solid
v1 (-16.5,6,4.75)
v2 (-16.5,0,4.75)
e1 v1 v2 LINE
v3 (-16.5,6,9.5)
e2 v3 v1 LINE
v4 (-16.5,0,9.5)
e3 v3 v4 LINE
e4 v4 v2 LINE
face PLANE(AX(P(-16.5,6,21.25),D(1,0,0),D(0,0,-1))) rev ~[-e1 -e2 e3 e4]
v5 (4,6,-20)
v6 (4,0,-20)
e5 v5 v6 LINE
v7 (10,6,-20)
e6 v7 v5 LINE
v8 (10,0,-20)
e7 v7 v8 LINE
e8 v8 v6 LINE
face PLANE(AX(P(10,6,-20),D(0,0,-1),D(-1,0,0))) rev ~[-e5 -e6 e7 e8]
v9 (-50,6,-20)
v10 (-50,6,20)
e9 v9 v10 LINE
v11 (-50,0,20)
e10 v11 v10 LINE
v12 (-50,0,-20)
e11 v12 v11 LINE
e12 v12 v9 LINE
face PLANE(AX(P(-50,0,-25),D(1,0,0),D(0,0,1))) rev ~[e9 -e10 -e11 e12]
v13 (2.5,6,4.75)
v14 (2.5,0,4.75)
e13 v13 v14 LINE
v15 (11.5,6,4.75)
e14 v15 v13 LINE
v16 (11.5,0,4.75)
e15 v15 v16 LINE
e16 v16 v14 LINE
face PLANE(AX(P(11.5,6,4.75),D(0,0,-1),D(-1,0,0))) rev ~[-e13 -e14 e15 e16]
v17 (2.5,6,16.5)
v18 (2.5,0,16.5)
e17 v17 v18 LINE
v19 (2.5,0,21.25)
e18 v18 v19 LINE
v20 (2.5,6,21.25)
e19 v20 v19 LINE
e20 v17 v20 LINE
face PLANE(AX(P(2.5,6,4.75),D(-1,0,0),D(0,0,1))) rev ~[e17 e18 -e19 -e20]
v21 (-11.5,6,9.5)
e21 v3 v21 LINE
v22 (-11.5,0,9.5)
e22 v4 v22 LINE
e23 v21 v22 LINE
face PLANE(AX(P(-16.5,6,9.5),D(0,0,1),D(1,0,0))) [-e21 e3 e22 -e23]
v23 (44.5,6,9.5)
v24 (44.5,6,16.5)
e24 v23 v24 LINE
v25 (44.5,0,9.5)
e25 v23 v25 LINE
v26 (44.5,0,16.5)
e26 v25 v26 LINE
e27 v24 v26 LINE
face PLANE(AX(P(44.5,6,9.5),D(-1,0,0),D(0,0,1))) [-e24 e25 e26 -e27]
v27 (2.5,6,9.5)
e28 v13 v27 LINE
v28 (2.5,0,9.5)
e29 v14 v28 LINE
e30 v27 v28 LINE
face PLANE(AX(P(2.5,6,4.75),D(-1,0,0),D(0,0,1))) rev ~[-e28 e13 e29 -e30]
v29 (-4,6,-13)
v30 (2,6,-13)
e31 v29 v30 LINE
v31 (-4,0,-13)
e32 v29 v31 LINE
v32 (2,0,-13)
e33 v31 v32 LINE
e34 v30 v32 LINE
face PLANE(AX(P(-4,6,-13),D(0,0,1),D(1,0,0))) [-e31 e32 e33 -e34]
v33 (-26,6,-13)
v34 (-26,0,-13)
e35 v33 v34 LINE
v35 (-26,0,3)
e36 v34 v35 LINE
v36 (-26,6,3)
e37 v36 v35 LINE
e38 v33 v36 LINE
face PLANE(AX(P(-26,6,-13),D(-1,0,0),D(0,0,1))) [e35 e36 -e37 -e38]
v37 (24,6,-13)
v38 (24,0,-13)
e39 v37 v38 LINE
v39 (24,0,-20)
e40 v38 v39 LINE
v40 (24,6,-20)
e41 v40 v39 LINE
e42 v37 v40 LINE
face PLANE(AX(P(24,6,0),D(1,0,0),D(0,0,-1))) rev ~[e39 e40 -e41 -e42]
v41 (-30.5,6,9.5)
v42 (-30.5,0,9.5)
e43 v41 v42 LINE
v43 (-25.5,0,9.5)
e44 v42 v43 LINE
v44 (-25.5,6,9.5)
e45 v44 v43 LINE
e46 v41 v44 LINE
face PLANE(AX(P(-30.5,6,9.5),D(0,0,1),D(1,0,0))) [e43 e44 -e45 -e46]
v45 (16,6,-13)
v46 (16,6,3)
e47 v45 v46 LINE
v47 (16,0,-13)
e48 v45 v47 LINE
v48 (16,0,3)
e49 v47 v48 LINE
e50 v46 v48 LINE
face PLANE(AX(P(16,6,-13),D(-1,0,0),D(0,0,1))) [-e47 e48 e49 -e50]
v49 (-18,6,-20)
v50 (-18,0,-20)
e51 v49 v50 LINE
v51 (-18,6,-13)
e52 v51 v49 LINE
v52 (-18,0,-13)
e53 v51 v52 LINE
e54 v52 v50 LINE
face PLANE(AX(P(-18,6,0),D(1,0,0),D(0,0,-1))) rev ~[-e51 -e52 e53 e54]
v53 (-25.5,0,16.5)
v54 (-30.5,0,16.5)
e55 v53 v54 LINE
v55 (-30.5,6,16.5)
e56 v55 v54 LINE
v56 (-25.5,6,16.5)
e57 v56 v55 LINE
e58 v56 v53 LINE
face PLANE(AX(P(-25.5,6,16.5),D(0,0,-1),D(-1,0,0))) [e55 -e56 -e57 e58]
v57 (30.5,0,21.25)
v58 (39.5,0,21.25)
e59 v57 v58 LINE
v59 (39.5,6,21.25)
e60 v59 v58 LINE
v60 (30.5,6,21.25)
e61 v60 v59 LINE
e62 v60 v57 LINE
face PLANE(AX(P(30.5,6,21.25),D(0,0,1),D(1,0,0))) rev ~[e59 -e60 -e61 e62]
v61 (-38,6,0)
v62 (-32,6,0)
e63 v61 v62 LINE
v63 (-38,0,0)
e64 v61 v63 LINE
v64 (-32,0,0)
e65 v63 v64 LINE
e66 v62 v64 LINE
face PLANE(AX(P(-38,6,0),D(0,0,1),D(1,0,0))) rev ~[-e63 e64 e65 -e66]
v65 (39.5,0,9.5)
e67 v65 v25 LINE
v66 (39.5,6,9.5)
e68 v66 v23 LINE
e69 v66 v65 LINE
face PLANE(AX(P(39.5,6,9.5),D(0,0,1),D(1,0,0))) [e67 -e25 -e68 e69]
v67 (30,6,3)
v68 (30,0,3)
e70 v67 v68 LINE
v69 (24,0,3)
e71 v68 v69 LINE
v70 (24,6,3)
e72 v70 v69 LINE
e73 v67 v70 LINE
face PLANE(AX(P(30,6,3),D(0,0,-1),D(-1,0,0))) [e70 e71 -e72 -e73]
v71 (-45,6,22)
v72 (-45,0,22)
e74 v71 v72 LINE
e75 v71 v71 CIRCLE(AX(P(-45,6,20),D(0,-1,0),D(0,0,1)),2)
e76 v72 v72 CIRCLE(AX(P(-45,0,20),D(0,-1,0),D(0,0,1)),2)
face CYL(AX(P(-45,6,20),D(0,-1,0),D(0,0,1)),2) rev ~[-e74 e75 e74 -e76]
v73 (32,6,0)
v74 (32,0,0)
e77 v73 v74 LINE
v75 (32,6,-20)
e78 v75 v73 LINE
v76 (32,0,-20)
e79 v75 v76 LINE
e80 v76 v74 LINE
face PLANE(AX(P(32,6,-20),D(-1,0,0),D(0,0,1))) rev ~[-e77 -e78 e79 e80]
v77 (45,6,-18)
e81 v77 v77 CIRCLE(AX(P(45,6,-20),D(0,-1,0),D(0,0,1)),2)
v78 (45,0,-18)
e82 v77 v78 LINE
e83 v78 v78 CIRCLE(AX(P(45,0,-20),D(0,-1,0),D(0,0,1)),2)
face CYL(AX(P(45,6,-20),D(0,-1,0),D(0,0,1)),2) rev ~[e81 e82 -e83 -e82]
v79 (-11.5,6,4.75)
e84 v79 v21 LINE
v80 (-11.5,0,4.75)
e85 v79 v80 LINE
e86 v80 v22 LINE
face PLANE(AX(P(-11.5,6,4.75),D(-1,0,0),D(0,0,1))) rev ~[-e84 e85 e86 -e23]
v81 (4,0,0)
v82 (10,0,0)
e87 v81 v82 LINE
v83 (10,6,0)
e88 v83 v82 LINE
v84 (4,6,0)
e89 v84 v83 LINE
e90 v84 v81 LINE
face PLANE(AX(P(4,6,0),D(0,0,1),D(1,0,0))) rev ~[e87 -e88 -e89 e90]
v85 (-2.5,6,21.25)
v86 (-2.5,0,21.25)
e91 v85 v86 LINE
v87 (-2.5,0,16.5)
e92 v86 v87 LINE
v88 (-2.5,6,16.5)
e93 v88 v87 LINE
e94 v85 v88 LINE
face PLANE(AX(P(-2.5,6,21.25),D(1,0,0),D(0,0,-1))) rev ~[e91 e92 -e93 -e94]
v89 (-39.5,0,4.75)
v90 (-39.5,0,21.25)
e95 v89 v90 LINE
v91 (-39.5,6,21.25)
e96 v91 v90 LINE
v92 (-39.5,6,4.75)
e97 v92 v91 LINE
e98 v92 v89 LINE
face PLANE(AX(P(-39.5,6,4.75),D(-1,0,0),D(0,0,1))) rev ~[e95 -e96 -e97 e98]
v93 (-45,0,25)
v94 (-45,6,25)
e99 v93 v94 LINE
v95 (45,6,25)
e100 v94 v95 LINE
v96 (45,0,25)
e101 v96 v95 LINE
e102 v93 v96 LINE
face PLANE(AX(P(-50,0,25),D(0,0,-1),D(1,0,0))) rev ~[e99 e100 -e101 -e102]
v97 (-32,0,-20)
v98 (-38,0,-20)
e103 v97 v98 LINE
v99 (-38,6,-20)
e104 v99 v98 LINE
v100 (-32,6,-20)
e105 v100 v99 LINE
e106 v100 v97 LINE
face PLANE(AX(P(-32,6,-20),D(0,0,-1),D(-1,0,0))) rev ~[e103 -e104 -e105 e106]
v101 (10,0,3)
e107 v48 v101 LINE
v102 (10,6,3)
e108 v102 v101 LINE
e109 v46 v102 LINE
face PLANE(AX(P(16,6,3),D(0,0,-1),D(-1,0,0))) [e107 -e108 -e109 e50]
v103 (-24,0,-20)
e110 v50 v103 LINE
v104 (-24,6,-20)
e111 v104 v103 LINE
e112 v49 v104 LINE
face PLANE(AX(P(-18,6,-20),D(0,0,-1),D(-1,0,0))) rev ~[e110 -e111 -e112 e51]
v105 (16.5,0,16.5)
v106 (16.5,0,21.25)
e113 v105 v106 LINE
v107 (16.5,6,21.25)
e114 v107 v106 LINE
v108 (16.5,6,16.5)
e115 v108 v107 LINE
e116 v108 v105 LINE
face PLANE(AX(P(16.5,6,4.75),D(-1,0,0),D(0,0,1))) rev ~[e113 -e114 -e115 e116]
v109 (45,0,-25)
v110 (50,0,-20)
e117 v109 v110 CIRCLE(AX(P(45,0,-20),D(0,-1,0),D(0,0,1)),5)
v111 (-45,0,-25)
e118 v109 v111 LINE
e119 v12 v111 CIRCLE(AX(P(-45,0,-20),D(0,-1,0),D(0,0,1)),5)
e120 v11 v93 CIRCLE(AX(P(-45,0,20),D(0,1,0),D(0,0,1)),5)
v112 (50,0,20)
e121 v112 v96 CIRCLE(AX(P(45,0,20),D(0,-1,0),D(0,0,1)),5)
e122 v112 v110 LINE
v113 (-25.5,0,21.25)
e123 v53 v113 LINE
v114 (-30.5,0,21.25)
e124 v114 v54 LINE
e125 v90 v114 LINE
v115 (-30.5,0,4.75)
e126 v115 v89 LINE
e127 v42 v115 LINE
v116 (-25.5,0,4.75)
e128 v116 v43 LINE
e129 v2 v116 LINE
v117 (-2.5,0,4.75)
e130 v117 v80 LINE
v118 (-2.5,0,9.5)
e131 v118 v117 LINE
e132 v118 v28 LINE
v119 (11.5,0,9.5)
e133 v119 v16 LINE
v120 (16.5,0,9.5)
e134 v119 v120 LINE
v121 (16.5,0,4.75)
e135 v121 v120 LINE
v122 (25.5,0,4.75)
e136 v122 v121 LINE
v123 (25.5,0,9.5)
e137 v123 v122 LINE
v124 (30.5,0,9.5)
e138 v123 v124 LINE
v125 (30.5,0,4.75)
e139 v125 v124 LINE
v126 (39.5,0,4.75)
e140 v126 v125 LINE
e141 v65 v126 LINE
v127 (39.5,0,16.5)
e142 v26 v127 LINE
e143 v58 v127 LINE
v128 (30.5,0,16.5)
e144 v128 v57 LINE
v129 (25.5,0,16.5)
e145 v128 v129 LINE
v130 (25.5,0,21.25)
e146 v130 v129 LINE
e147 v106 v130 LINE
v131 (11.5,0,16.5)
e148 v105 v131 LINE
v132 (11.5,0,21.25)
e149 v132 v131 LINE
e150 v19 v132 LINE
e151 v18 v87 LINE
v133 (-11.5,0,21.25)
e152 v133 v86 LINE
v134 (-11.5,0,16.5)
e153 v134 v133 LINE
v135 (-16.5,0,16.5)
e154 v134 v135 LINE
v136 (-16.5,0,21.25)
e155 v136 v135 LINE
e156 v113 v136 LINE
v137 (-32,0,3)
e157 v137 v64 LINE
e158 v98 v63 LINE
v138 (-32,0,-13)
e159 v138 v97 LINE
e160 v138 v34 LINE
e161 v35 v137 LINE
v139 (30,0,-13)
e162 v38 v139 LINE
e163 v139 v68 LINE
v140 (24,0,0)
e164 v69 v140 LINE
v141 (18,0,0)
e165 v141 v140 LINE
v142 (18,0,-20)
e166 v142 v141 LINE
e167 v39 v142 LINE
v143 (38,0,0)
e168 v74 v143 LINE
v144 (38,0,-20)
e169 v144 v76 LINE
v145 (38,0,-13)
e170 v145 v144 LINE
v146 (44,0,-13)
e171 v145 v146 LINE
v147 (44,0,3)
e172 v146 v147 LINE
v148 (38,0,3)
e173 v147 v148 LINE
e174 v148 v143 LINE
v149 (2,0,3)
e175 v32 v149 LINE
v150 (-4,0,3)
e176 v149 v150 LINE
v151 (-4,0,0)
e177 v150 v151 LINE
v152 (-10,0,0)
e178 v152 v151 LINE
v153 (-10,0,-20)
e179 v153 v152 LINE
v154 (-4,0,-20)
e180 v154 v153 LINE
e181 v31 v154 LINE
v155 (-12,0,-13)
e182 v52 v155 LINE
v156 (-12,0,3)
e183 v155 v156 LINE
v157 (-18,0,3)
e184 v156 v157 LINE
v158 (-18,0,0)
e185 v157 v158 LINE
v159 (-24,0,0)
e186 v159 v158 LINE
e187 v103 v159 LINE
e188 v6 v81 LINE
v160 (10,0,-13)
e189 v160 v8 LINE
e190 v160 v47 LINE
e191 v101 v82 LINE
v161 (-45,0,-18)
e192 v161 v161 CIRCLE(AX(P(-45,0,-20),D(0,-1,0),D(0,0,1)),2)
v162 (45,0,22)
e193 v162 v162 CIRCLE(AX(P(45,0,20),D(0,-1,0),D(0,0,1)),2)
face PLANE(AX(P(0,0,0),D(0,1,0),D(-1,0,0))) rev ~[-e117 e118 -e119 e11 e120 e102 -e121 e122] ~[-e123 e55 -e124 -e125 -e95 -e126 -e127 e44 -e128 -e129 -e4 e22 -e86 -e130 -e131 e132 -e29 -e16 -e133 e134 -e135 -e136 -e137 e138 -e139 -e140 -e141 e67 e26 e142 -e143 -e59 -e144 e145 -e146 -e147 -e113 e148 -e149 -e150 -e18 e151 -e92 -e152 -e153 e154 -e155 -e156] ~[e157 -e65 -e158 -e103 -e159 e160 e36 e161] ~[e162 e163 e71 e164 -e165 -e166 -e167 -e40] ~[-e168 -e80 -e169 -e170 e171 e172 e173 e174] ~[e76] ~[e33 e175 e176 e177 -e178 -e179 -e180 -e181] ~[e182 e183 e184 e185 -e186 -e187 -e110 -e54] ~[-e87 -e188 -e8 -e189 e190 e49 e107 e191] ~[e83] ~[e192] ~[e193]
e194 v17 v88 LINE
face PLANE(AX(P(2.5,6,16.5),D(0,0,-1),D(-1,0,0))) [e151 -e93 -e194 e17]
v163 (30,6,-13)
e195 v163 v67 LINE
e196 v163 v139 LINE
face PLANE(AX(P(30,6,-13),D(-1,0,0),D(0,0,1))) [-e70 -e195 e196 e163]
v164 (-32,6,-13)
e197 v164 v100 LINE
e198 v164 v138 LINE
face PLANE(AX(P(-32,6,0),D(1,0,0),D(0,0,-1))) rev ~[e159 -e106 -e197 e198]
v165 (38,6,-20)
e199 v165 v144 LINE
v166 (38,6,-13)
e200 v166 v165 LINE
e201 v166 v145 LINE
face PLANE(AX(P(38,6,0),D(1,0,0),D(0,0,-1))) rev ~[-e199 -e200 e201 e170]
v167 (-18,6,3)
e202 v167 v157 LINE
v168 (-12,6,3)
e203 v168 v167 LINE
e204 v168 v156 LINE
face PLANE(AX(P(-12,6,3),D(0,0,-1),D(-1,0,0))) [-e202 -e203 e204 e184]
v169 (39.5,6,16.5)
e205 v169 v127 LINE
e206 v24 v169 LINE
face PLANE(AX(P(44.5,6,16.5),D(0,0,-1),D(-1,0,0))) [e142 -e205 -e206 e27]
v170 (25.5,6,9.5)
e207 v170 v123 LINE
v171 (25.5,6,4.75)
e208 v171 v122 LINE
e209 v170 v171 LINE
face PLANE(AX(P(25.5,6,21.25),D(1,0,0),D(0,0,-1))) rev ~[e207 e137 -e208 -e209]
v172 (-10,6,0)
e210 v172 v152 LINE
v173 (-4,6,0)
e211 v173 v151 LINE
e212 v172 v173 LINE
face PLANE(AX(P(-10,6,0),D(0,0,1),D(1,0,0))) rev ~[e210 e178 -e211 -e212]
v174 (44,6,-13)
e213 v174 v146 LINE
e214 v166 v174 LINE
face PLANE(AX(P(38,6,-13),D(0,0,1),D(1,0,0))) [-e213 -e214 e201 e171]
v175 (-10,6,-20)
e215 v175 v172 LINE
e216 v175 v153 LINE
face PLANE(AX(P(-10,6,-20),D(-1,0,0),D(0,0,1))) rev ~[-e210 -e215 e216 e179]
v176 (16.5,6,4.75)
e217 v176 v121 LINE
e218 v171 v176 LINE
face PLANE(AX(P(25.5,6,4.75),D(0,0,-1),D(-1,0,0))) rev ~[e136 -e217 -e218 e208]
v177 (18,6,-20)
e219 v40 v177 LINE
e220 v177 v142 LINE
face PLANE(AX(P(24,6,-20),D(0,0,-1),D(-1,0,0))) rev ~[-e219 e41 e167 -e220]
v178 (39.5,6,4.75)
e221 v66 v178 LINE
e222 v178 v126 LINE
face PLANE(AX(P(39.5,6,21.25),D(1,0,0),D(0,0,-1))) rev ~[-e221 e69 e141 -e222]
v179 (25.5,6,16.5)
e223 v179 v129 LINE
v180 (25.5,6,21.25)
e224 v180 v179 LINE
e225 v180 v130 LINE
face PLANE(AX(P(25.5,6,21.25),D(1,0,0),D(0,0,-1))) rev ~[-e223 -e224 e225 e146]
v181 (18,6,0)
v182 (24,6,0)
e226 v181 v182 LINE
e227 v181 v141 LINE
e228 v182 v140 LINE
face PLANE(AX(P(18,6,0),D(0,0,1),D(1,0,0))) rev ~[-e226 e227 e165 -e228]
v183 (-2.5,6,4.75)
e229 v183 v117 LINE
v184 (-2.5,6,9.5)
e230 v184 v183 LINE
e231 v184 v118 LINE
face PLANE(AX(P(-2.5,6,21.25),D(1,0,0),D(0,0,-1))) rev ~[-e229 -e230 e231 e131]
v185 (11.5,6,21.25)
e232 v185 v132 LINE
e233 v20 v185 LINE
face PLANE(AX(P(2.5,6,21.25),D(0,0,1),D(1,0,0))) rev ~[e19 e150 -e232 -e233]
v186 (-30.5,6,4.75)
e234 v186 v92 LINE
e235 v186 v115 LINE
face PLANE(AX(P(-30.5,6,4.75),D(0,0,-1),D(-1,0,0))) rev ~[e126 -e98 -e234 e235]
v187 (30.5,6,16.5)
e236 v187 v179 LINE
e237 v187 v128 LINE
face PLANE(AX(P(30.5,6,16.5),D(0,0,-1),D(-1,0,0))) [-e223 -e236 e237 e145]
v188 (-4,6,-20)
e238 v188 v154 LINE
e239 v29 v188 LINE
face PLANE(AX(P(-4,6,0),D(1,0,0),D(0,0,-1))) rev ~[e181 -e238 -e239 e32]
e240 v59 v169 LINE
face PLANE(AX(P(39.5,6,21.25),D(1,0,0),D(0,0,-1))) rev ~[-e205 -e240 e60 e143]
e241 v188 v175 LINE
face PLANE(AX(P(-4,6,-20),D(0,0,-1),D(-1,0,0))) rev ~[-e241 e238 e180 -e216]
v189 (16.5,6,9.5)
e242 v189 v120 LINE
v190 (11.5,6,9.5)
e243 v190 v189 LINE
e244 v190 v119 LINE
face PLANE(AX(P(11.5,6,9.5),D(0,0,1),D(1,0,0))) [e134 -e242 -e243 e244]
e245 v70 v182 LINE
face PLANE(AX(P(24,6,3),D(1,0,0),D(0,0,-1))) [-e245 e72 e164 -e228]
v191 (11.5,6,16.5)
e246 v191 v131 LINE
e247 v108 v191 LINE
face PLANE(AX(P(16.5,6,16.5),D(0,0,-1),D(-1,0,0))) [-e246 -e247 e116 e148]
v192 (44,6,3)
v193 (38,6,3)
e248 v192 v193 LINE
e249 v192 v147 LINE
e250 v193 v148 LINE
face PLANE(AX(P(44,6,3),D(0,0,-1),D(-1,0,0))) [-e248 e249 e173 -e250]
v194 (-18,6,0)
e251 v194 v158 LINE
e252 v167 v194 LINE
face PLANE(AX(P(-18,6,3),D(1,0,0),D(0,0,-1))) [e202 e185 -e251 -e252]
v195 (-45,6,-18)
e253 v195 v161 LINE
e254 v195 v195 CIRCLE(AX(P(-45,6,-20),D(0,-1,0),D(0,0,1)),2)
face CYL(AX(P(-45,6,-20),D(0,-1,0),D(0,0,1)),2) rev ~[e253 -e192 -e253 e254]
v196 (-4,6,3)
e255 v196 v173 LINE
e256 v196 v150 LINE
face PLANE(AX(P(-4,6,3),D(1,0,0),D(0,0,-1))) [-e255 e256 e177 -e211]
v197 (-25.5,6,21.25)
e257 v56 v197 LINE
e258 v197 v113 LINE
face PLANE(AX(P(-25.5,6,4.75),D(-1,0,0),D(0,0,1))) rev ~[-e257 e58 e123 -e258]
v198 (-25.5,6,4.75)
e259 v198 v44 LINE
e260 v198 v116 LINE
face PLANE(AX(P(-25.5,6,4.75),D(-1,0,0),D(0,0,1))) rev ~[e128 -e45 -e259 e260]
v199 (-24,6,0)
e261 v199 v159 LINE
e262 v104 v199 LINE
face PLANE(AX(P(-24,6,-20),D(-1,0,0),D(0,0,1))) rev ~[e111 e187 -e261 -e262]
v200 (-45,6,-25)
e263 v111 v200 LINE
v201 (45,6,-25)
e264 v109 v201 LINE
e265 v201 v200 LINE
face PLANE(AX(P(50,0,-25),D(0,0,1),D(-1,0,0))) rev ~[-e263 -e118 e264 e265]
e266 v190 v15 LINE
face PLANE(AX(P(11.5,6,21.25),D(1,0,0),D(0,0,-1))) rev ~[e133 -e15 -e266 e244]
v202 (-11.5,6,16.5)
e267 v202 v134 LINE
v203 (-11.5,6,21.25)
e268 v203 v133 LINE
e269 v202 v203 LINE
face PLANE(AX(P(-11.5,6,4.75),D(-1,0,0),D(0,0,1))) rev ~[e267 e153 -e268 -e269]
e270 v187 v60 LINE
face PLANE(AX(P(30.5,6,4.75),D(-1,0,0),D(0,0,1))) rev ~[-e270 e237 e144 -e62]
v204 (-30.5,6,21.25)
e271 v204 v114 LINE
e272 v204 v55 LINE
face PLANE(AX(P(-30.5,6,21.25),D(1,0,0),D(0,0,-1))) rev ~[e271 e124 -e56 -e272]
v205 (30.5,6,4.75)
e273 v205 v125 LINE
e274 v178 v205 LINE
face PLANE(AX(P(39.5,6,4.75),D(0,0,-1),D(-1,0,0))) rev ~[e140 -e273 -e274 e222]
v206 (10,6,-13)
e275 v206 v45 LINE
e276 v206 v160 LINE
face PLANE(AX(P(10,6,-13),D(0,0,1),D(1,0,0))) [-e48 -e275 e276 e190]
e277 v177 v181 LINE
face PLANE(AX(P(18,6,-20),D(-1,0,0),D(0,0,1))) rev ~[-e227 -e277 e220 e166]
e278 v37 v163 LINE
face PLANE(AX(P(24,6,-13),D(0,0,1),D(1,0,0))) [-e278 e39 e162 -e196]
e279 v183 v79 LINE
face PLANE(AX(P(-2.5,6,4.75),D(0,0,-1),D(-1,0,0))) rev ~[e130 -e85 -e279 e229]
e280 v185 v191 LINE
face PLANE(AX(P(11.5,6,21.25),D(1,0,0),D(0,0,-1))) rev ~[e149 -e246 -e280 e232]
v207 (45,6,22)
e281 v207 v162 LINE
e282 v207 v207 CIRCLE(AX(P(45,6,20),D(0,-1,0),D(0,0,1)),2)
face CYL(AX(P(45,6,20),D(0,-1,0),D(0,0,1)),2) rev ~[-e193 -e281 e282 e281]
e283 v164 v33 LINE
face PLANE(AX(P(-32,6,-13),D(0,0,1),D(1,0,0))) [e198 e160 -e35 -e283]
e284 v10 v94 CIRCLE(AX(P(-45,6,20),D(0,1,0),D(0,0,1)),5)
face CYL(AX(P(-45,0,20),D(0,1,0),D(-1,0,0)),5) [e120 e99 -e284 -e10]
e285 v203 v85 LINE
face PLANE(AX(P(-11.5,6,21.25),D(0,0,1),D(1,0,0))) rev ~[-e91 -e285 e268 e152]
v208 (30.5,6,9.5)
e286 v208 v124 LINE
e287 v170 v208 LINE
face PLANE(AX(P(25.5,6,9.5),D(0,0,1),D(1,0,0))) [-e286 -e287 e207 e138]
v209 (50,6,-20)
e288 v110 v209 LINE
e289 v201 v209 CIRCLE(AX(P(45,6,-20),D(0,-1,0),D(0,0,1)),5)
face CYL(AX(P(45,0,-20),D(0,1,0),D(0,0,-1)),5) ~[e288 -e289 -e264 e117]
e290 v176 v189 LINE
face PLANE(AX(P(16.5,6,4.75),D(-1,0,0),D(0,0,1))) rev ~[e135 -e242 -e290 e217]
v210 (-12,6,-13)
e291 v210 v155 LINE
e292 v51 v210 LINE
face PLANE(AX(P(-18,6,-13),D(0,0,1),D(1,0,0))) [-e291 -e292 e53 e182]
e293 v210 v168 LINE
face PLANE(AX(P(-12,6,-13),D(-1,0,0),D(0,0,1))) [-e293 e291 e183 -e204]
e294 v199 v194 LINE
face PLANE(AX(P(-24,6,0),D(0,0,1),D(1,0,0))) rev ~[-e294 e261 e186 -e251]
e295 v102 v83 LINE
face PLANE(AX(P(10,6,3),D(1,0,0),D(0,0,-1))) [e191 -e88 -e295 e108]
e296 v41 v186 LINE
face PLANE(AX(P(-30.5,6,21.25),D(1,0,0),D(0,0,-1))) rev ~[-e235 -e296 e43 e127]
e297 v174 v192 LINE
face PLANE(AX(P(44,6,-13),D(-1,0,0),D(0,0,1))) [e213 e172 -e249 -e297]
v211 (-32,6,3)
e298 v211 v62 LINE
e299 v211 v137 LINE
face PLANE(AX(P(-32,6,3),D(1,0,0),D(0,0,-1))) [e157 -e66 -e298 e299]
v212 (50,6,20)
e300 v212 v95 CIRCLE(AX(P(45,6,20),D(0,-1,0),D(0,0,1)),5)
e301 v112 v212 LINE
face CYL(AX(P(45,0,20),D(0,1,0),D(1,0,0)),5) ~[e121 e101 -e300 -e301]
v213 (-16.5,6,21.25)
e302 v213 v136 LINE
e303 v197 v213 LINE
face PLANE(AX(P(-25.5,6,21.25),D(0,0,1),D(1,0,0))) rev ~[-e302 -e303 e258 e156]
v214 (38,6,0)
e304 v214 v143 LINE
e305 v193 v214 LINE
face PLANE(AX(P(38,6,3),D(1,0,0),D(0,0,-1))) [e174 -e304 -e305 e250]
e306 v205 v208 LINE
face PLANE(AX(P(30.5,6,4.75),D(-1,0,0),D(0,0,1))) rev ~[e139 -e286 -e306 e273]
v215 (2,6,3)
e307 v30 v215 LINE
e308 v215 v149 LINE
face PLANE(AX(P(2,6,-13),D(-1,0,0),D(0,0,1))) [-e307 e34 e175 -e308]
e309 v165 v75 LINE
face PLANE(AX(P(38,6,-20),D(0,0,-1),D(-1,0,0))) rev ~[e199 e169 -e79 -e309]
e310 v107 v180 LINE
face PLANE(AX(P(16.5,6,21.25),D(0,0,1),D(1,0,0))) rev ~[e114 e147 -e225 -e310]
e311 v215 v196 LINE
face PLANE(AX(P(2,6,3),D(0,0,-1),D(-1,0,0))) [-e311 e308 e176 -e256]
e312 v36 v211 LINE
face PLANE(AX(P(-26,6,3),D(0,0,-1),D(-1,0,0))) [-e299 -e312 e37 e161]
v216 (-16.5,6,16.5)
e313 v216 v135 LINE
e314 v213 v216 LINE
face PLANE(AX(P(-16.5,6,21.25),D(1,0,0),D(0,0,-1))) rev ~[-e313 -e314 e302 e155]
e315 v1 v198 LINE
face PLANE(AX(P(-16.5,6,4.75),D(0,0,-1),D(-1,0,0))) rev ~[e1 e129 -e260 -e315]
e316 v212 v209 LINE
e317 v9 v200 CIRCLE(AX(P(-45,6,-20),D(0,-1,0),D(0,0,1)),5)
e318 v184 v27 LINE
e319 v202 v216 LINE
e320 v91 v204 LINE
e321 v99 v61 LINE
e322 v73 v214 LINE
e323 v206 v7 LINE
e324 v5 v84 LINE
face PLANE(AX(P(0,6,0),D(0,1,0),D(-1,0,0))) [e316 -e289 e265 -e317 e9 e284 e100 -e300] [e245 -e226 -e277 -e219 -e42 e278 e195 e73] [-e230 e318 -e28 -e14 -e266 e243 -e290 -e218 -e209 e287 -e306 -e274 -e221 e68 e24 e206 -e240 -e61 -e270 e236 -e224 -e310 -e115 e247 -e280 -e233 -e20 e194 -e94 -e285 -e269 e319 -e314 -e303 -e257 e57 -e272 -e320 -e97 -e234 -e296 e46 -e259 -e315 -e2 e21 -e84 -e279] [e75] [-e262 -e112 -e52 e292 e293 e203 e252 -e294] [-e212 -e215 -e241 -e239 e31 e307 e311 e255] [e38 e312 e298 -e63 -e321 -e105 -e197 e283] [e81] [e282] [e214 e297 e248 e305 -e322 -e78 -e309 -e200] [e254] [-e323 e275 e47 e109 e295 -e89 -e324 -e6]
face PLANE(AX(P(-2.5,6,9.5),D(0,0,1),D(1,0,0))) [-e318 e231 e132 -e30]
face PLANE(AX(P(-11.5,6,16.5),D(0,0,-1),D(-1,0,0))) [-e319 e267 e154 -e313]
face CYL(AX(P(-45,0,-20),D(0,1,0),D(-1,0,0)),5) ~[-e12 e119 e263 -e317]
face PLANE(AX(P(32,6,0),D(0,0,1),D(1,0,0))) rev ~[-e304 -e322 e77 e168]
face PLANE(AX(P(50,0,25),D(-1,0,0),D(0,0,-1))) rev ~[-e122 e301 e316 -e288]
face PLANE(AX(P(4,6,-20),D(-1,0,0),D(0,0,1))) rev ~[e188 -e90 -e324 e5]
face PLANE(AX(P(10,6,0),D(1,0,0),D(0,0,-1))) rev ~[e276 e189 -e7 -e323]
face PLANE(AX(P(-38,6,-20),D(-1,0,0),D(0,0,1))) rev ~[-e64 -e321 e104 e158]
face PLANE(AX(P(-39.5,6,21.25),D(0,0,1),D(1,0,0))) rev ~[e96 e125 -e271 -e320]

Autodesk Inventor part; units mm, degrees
ref_plane "YZ Plane" through (0, 0, 0) normal (1, 0, 0) x (0, 1, 0)
ref_plane "XZ Plane" through (0, 0, 0) normal (0, 1, 0) x (-1, 0, 0)
ref_plane "XY Plane" through (0, 0, 0) normal (0, 0, 1) x (1, 0, 0)
sketch "Sketch1" plane through (0, 0, 0) normal (0, 1, 0) x (-1, 0, 0)
  line L0 (50, 25) -> (-50, 25)
  line L1 (-50, 25) -> (-50, -25)
  line L2 (-50, -25) -> (50, -25)
  line L3 (50, -25) -> (50, 25)
  line L4 (50, 25) -> (-50, -25) construction
  line L5 (-50, 25) -> (50, -25) construction
  point P0 (0, 0)
  dimension "d0" = 100
  dimension "d1" = 50
extrude "Extrusion1" add sketch "Sketch1" along normal blind 6
fillet "Fillet1" radius 5 4 edges at (50, 3, 25) (50, 3, -25) (-50, 3, -25) (-50, 3, 25)
sketch "Sketch2" plane through (0, 6, 0) normal (0, 1, 0) x (1, 0, 0)
  line L0 (-39.5, -21.25) -> (-30.5, -21.25)
  line L1 (-30.5, -21.25) -> (-30.5, -4.75)
  line L2 (-30.5, -4.75) -> (-39.5, -4.75)
  line L3 (-39.5, -4.75) -> (-39.5, -21.25)
  line L4 (-39.5, -21.25) -> (-30.5, -4.75) construction
  line L5 (-30.5, -21.25) -> (-39.5, -4.75) construction
  line L6 (-25.5, -21.25) -> (-16.5, -21.25)
  line L7 (-16.5, -21.25) -> (-16.5, -4.75)
  line L8 (-16.5, -4.75) -> (-25.5, -4.75)
  line L9 (-25.5, -4.75) -> (-25.5, -21.25)
  line L10 (-25.5, -21.25) -> (-16.5, -4.75) construction
  line L11 (-16.5, -21.25) -> (-25.5, -4.75) construction
  line L12 (-11.5, -21.25) -> (-2.5, -21.25)
  line L13 (-2.5, -21.25) -> (-2.5, -4.75)
  line L14 (-2.5, -4.75) -> (-11.5, -4.75)
  line L15 (-11.5, -4.75) -> (-11.5, -21.25)
  line L16 (-11.5, -21.25) -> (-2.5, -4.75) construction
  line L17 (-2.5, -21.25) -> (-11.5, -4.75) construction
  line L18 (2.5, -21.25) -> (11.5, -21.25)
  line L19 (11.5, -21.25) -> (11.5, -4.75)
  line L20 (11.5, -4.75) -> (2.5, -4.75)
  line L21 (2.5, -4.75) -> (2.5, -21.25)
  line L22 (2.5, -21.25) -> (11.5, -4.75) construction
  line L23 (11.5, -21.25) -> (2.5, -4.75) construction
  line L24 (16.5, -21.25) -> (25.5, -21.25)
  line L25 (25.5, -21.25) -> (25.5, -4.75)
  line L26 (25.5, -4.75) -> (16.5, -4.75)
  line L27 (16.5, -4.75) -> (16.5, -21.25)
  line L28 (16.5, -21.25) -> (25.5, -4.75) construction
  line L29 (25.5, -21.25) -> (16.5, -4.75) construction
  line L30 (30.5, -21.25) -> (39.5, -21.25)
  line L31 (39.5, -21.25) -> (39.5, -4.75)
  line L32 (39.5, -4.75) -> (30.5, -4.75)
  line L33 (30.5, -4.75) -> (30.5, -21.25)
  line L34 (30.5, -21.25) -> (39.5, -4.75) construction
  line L35 (39.5, -21.25) -> (30.5, -4.75) construction
  point P0 (0, 0)
  point P1 (-35, -13)
  point P2 (-21, -13)
  point P3 (-7, -13)
  point P4 (7, -13)
  point P5 (21, -13)
  point P6 (35, -13)
  dimension "d5" = 9
  dimension "d6" = 16.5
  dimension "d9" = 14
  dimension "d14" = 7
  dimension "d15" = 13
extrude "Extrusion2" cut sketch "Sketch2" against normal blind 10
sketch "Sketch3" plane through (0, 6, 0) normal (0, 1, 0) x (1, 0, 0)
  line L0 (-16.5, -21.25) -> (-25.5, -21.25) projected
  line L1 (-45, -25) -> (45, -25) projected
  line L2 (45, 25) -> (-45, 25) projected
  line L3 (-38, 0) -> (-32, 0)
  line L4 (-32, 0) -> (-32, 20)
  line L5 (-32, 20) -> (-38, 20)
  line L6 (-38, 20) -> (-38, 0)
  line L7 (-38, 0) -> (-32, 20) construction
  line L8 (-32, 0) -> (-38, 20) construction
  line L9 (-24, 0) -> (-18, 0)
  line L10 (-18, 0) -> (-18, 20)
  line L11 (-18, 20) -> (-24, 20)
  line L12 (-24, 20) -> (-24, 0)
  line L13 (-24, 0) -> (-18, 20) construction
  line L14 (-18, 0) -> (-24, 20) construction
  line L15 (-10, 0) -> (-4, 0)
  line L16 (-4, 0) -> (-4, 20)
  line L17 (-4, 20) -> (-10, 20)
  line L18 (-10, 20) -> (-10, 0)
  line L19 (-10, 0) -> (-4, 20) construction
  line L20 (-4, 0) -> (-10, 20) construction
  line L21 (4, 0) -> (10, 0)
  line L22 (10, 0) -> (10, 20)
  line L23 (10, 20) -> (4, 20)
  line L24 (4, 20) -> (4, 0)
  line L25 (4, 0) -> (10, 20) construction
  line L26 (10, 0) -> (4, 20) construction
  line L27 (18, 0) -> (24, 0)
  line L28 (24, 0) -> (24, 20)
  line L29 (24, 20) -> (18, 20)
  line L30 (18, 20) -> (18, 0)
  line L31 (18, 0) -> (24, 20) construction
  line L32 (24, 0) -> (18, 20) construction
  line L33 (32, 0) -> (38, 0)
  line L34 (38, 0) -> (38, 20)
  line L35 (38, 20) -> (32, 20)
  line L36 (32, 20) -> (32, 0)
  line L37 (32, 0) -> (38, 20) construction
  line L38 (38, 0) -> (32, 20) construction
  point P0 (0, 0)
  point P1 (-35, 10)
  point P2 (-21, 10)
  point P3 (-7, 10)
  point P4 (7, 10)
  point P5 (21, 10)
  point P6 (35, 10)
  dimension "d20" = 14
  dimension "d25" = 7
  dimension "d26" = 6
  dimension "d27" = 20
  dimension "d28" = 5
  dimension "d29" = 3.75
extrude "Extrusion3" cut sketch "Sketch3" against normal blind 10
sketch "Sketch4" plane through (0, 6, 0) normal (0, 1, 0) x (1, 0, 0)
  arc A0 (-50, -20) -> (-45, -25) centre (-45, -20) ccw projected
  arc A1 (45, -25) -> (50, -20) centre (45, -20) ccw projected
  arc A2 (50, 20) -> (45, 25) centre (45, 20) ccw projected
  arc A3 (-45, 25) -> (-50, 20) centre (-45, 20) ccw projected
  point P0 (0, 0)
hole "Hole1" at (-45, 6, -20) at (45, 6, -20) at (45, 6, 20) at (-45, 6, 20) direction (0, -1, 0) diameter 4 end through all
sketch "Sketch5" plane through (0, 6, 0) normal (0, 1, 0) x (1, 0, 0)
  line L0 (-30.5, -4.75) -> (-30.5, -21.25) projected
  line L1 (-39.5, -4.75) -> (-30.5, -4.75) projected
  line L2 (-25.5, -21.25) -> (-25.5, -4.75) projected
  line L3 (-25.5, -16.5) -> (-30.5, -16.5)
  line L4 (-30.5, -16.5) -> (-30.5, -9.5)
  line L5 (-30.5, -9.5) -> (-25.5, -9.5)
  line L6 (-25.5, -9.5) -> (-25.5, -16.5)
  line L7 (-25.5, -16.5) -> (-30.5, -9.5) construction
  line L8 (-30.5, -16.5) -> (-25.5, -9.5) construction
  line L9 (-11.5, -16.5) -> (-16.5, -16.5)
  line L10 (-16.5, -16.5) -> (-16.5, -9.5)
  line L11 (-16.5, -9.5) -> (-11.5, -9.5)
  line L12 (-11.5, -9.5) -> (-11.5, -16.5)
  line L13 (-11.5, -16.5) -> (-16.5, -9.5) construction
  line L14 (-16.5, -16.5) -> (-11.5, -9.5) construction
  line L15 (2.5, -16.5) -> (-2.5, -16.5)
  line L16 (-2.5, -16.5) -> (-2.5, -9.5)
  line L17 (-2.5, -9.5) -> (2.5, -9.5)
  line L18 (2.5, -9.5) -> (2.5, -16.5)
  line L19 (2.5, -16.5) -> (-2.5, -9.5) construction
  line L20 (-2.5, -16.5) -> (2.5, -9.5) construction
  line L21 (16.5, -16.5) -> (11.5, -16.5)
  line L22 (11.5, -16.5) -> (11.5, -9.5)
  line L23 (11.5, -9.5) -> (16.5, -9.5)
  line L24 (16.5, -9.5) -> (16.5, -16.5)
  line L25 (16.5, -16.5) -> (11.5, -9.5) construction
  line L26 (11.5, -16.5) -> (16.5, -9.5) construction
  line L27 (30.5, -16.5) -> (25.5, -16.5)
  line L28 (25.5, -16.5) -> (25.5, -9.5)
  line L29 (25.5, -9.5) -> (30.5, -9.5)
  line L30 (30.5, -9.5) -> (30.5, -16.5)
  line L31 (30.5, -16.5) -> (25.5, -9.5) construction
  line L32 (25.5, -16.5) -> (30.5, -9.5) construction
  line L33 (44.5, -16.5) -> (39.5, -16.5)
  line L34 (39.5, -16.5) -> (39.5, -9.5)
  line L35 (39.5, -9.5) -> (44.5, -9.5)
  line L36 (44.5, -9.5) -> (44.5, -16.5)
  line L37 (44.5, -16.5) -> (39.5, -9.5) construction
  line L38 (39.5, -16.5) -> (44.5, -9.5) construction
  point P0 (-39.5, -21.25)
  point P1 (0, 0)
  point P2 (-28, -13)
  point P3 (-14, -13)
  point P4 (0, -13)
  point P5 (14, -13)
  point P6 (28, -13)
  point P7 (42, -13)
  dimension "d39" = 0
  dimension "d40" = 7
  dimension "d41" = 16.5
  dimension "d42" = 8.25
  dimension "d45" = 14
extrude "Extrusion4" cut sketch "Sketch5" against normal blind 10
sketch "Sketch6" plane through (0, 6, 0) normal (0, 1, 0) x (1, 0, 0)
  line L0 (-32, 20) -> (-32, 0) projected
  line L1 (-32, 0) -> (-38, 0) projected
  line L2 (-38, 20) -> (-32, 20) projected
  line L3 (-26, -3) -> (-32, -3)
  line L4 (-32, -3) -> (-32, 13)
  line L5 (-32, 13) -> (-26, 13)
  line L6 (-26, 13) -> (-26, -3)
  line L7 (-26, -3) -> (-32, 13) construction
  line L8 (-32, -3) -> (-26, 13) construction
  line L9 (-12, -3) -> (-18, -3)
  line L10 (-18, -3) -> (-18, 13)
  line L11 (-18, 13) -> (-12, 13)
  line L12 (-12, 13) -> (-12, -3)
  line L13 (-12, -3) -> (-18, 13) construction
  line L14 (-18, -3) -> (-12, 13) construction
  line L15 (2, -3) -> (-4, -3)
  line L16 (-4, -3) -> (-4, 13)
  line L17 (-4, 13) -> (2, 13)
  line L18 (2, 13) -> (2, -3)
  line L19 (2, -3) -> (-4, 13) construction
  line L20 (-4, -3) -> (2, 13) construction
  line L21 (16, -3) -> (10, -3)
  line L22 (10, -3) -> (10, 13)
  line L23 (10, 13) -> (16, 13)
  line L24 (16, 13) -> (16, -3)
  line L25 (16, -3) -> (10, 13) construction
  line L26 (10, -3) -> (16, 13) construction
  line L27 (30, -3) -> (24, -3)
  line L28 (24, -3) -> (24, 13)
  line L29 (24, 13) -> (30, 13)
  line L30 (30, 13) -> (30, -3)
  line L31 (30, -3) -> (24, 13) construction
  line L32 (24, -3) -> (30, 13) construction
  line L33 (44, -3) -> (38, -3)
  line L34 (38, -3) -> (38, 13)
  line L35 (38, 13) -> (44, 13)
  line L36 (44, 13) -> (44, -3)
  line L37 (44, -3) -> (38, 13) construction
  line L38 (38, -3) -> (44, 13) construction
  point P0 (0, 0)
  point P1 (-29, 5)
  point P2 (-18, 0)
  point P3 (-15, 5)
  point P4 (-4, 0)
  point P5 (-1, 5)
  point P6 (10, 0)
  point P7 (13, 5)
  point P8 (24, 0)
  point P9 (27, 5)
  point P10 (38, 0)
  point P11 (41, 5)
  dimension "d52" = 6
  dimension "d53" = 3
  dimension "d54" = 7
  dimension "d57" = 14
extrude "Extrusion5" cut sketch "Sketch6" against normal blind 10
equation "\"d14\" = 0.5 * d9"
equation "\"d25\" = 0.5 * d20"
equation "\"d42\" = 0.5 * d41"
properties part number "AcrylicUpperCore" material "Acrylic, Clear"
